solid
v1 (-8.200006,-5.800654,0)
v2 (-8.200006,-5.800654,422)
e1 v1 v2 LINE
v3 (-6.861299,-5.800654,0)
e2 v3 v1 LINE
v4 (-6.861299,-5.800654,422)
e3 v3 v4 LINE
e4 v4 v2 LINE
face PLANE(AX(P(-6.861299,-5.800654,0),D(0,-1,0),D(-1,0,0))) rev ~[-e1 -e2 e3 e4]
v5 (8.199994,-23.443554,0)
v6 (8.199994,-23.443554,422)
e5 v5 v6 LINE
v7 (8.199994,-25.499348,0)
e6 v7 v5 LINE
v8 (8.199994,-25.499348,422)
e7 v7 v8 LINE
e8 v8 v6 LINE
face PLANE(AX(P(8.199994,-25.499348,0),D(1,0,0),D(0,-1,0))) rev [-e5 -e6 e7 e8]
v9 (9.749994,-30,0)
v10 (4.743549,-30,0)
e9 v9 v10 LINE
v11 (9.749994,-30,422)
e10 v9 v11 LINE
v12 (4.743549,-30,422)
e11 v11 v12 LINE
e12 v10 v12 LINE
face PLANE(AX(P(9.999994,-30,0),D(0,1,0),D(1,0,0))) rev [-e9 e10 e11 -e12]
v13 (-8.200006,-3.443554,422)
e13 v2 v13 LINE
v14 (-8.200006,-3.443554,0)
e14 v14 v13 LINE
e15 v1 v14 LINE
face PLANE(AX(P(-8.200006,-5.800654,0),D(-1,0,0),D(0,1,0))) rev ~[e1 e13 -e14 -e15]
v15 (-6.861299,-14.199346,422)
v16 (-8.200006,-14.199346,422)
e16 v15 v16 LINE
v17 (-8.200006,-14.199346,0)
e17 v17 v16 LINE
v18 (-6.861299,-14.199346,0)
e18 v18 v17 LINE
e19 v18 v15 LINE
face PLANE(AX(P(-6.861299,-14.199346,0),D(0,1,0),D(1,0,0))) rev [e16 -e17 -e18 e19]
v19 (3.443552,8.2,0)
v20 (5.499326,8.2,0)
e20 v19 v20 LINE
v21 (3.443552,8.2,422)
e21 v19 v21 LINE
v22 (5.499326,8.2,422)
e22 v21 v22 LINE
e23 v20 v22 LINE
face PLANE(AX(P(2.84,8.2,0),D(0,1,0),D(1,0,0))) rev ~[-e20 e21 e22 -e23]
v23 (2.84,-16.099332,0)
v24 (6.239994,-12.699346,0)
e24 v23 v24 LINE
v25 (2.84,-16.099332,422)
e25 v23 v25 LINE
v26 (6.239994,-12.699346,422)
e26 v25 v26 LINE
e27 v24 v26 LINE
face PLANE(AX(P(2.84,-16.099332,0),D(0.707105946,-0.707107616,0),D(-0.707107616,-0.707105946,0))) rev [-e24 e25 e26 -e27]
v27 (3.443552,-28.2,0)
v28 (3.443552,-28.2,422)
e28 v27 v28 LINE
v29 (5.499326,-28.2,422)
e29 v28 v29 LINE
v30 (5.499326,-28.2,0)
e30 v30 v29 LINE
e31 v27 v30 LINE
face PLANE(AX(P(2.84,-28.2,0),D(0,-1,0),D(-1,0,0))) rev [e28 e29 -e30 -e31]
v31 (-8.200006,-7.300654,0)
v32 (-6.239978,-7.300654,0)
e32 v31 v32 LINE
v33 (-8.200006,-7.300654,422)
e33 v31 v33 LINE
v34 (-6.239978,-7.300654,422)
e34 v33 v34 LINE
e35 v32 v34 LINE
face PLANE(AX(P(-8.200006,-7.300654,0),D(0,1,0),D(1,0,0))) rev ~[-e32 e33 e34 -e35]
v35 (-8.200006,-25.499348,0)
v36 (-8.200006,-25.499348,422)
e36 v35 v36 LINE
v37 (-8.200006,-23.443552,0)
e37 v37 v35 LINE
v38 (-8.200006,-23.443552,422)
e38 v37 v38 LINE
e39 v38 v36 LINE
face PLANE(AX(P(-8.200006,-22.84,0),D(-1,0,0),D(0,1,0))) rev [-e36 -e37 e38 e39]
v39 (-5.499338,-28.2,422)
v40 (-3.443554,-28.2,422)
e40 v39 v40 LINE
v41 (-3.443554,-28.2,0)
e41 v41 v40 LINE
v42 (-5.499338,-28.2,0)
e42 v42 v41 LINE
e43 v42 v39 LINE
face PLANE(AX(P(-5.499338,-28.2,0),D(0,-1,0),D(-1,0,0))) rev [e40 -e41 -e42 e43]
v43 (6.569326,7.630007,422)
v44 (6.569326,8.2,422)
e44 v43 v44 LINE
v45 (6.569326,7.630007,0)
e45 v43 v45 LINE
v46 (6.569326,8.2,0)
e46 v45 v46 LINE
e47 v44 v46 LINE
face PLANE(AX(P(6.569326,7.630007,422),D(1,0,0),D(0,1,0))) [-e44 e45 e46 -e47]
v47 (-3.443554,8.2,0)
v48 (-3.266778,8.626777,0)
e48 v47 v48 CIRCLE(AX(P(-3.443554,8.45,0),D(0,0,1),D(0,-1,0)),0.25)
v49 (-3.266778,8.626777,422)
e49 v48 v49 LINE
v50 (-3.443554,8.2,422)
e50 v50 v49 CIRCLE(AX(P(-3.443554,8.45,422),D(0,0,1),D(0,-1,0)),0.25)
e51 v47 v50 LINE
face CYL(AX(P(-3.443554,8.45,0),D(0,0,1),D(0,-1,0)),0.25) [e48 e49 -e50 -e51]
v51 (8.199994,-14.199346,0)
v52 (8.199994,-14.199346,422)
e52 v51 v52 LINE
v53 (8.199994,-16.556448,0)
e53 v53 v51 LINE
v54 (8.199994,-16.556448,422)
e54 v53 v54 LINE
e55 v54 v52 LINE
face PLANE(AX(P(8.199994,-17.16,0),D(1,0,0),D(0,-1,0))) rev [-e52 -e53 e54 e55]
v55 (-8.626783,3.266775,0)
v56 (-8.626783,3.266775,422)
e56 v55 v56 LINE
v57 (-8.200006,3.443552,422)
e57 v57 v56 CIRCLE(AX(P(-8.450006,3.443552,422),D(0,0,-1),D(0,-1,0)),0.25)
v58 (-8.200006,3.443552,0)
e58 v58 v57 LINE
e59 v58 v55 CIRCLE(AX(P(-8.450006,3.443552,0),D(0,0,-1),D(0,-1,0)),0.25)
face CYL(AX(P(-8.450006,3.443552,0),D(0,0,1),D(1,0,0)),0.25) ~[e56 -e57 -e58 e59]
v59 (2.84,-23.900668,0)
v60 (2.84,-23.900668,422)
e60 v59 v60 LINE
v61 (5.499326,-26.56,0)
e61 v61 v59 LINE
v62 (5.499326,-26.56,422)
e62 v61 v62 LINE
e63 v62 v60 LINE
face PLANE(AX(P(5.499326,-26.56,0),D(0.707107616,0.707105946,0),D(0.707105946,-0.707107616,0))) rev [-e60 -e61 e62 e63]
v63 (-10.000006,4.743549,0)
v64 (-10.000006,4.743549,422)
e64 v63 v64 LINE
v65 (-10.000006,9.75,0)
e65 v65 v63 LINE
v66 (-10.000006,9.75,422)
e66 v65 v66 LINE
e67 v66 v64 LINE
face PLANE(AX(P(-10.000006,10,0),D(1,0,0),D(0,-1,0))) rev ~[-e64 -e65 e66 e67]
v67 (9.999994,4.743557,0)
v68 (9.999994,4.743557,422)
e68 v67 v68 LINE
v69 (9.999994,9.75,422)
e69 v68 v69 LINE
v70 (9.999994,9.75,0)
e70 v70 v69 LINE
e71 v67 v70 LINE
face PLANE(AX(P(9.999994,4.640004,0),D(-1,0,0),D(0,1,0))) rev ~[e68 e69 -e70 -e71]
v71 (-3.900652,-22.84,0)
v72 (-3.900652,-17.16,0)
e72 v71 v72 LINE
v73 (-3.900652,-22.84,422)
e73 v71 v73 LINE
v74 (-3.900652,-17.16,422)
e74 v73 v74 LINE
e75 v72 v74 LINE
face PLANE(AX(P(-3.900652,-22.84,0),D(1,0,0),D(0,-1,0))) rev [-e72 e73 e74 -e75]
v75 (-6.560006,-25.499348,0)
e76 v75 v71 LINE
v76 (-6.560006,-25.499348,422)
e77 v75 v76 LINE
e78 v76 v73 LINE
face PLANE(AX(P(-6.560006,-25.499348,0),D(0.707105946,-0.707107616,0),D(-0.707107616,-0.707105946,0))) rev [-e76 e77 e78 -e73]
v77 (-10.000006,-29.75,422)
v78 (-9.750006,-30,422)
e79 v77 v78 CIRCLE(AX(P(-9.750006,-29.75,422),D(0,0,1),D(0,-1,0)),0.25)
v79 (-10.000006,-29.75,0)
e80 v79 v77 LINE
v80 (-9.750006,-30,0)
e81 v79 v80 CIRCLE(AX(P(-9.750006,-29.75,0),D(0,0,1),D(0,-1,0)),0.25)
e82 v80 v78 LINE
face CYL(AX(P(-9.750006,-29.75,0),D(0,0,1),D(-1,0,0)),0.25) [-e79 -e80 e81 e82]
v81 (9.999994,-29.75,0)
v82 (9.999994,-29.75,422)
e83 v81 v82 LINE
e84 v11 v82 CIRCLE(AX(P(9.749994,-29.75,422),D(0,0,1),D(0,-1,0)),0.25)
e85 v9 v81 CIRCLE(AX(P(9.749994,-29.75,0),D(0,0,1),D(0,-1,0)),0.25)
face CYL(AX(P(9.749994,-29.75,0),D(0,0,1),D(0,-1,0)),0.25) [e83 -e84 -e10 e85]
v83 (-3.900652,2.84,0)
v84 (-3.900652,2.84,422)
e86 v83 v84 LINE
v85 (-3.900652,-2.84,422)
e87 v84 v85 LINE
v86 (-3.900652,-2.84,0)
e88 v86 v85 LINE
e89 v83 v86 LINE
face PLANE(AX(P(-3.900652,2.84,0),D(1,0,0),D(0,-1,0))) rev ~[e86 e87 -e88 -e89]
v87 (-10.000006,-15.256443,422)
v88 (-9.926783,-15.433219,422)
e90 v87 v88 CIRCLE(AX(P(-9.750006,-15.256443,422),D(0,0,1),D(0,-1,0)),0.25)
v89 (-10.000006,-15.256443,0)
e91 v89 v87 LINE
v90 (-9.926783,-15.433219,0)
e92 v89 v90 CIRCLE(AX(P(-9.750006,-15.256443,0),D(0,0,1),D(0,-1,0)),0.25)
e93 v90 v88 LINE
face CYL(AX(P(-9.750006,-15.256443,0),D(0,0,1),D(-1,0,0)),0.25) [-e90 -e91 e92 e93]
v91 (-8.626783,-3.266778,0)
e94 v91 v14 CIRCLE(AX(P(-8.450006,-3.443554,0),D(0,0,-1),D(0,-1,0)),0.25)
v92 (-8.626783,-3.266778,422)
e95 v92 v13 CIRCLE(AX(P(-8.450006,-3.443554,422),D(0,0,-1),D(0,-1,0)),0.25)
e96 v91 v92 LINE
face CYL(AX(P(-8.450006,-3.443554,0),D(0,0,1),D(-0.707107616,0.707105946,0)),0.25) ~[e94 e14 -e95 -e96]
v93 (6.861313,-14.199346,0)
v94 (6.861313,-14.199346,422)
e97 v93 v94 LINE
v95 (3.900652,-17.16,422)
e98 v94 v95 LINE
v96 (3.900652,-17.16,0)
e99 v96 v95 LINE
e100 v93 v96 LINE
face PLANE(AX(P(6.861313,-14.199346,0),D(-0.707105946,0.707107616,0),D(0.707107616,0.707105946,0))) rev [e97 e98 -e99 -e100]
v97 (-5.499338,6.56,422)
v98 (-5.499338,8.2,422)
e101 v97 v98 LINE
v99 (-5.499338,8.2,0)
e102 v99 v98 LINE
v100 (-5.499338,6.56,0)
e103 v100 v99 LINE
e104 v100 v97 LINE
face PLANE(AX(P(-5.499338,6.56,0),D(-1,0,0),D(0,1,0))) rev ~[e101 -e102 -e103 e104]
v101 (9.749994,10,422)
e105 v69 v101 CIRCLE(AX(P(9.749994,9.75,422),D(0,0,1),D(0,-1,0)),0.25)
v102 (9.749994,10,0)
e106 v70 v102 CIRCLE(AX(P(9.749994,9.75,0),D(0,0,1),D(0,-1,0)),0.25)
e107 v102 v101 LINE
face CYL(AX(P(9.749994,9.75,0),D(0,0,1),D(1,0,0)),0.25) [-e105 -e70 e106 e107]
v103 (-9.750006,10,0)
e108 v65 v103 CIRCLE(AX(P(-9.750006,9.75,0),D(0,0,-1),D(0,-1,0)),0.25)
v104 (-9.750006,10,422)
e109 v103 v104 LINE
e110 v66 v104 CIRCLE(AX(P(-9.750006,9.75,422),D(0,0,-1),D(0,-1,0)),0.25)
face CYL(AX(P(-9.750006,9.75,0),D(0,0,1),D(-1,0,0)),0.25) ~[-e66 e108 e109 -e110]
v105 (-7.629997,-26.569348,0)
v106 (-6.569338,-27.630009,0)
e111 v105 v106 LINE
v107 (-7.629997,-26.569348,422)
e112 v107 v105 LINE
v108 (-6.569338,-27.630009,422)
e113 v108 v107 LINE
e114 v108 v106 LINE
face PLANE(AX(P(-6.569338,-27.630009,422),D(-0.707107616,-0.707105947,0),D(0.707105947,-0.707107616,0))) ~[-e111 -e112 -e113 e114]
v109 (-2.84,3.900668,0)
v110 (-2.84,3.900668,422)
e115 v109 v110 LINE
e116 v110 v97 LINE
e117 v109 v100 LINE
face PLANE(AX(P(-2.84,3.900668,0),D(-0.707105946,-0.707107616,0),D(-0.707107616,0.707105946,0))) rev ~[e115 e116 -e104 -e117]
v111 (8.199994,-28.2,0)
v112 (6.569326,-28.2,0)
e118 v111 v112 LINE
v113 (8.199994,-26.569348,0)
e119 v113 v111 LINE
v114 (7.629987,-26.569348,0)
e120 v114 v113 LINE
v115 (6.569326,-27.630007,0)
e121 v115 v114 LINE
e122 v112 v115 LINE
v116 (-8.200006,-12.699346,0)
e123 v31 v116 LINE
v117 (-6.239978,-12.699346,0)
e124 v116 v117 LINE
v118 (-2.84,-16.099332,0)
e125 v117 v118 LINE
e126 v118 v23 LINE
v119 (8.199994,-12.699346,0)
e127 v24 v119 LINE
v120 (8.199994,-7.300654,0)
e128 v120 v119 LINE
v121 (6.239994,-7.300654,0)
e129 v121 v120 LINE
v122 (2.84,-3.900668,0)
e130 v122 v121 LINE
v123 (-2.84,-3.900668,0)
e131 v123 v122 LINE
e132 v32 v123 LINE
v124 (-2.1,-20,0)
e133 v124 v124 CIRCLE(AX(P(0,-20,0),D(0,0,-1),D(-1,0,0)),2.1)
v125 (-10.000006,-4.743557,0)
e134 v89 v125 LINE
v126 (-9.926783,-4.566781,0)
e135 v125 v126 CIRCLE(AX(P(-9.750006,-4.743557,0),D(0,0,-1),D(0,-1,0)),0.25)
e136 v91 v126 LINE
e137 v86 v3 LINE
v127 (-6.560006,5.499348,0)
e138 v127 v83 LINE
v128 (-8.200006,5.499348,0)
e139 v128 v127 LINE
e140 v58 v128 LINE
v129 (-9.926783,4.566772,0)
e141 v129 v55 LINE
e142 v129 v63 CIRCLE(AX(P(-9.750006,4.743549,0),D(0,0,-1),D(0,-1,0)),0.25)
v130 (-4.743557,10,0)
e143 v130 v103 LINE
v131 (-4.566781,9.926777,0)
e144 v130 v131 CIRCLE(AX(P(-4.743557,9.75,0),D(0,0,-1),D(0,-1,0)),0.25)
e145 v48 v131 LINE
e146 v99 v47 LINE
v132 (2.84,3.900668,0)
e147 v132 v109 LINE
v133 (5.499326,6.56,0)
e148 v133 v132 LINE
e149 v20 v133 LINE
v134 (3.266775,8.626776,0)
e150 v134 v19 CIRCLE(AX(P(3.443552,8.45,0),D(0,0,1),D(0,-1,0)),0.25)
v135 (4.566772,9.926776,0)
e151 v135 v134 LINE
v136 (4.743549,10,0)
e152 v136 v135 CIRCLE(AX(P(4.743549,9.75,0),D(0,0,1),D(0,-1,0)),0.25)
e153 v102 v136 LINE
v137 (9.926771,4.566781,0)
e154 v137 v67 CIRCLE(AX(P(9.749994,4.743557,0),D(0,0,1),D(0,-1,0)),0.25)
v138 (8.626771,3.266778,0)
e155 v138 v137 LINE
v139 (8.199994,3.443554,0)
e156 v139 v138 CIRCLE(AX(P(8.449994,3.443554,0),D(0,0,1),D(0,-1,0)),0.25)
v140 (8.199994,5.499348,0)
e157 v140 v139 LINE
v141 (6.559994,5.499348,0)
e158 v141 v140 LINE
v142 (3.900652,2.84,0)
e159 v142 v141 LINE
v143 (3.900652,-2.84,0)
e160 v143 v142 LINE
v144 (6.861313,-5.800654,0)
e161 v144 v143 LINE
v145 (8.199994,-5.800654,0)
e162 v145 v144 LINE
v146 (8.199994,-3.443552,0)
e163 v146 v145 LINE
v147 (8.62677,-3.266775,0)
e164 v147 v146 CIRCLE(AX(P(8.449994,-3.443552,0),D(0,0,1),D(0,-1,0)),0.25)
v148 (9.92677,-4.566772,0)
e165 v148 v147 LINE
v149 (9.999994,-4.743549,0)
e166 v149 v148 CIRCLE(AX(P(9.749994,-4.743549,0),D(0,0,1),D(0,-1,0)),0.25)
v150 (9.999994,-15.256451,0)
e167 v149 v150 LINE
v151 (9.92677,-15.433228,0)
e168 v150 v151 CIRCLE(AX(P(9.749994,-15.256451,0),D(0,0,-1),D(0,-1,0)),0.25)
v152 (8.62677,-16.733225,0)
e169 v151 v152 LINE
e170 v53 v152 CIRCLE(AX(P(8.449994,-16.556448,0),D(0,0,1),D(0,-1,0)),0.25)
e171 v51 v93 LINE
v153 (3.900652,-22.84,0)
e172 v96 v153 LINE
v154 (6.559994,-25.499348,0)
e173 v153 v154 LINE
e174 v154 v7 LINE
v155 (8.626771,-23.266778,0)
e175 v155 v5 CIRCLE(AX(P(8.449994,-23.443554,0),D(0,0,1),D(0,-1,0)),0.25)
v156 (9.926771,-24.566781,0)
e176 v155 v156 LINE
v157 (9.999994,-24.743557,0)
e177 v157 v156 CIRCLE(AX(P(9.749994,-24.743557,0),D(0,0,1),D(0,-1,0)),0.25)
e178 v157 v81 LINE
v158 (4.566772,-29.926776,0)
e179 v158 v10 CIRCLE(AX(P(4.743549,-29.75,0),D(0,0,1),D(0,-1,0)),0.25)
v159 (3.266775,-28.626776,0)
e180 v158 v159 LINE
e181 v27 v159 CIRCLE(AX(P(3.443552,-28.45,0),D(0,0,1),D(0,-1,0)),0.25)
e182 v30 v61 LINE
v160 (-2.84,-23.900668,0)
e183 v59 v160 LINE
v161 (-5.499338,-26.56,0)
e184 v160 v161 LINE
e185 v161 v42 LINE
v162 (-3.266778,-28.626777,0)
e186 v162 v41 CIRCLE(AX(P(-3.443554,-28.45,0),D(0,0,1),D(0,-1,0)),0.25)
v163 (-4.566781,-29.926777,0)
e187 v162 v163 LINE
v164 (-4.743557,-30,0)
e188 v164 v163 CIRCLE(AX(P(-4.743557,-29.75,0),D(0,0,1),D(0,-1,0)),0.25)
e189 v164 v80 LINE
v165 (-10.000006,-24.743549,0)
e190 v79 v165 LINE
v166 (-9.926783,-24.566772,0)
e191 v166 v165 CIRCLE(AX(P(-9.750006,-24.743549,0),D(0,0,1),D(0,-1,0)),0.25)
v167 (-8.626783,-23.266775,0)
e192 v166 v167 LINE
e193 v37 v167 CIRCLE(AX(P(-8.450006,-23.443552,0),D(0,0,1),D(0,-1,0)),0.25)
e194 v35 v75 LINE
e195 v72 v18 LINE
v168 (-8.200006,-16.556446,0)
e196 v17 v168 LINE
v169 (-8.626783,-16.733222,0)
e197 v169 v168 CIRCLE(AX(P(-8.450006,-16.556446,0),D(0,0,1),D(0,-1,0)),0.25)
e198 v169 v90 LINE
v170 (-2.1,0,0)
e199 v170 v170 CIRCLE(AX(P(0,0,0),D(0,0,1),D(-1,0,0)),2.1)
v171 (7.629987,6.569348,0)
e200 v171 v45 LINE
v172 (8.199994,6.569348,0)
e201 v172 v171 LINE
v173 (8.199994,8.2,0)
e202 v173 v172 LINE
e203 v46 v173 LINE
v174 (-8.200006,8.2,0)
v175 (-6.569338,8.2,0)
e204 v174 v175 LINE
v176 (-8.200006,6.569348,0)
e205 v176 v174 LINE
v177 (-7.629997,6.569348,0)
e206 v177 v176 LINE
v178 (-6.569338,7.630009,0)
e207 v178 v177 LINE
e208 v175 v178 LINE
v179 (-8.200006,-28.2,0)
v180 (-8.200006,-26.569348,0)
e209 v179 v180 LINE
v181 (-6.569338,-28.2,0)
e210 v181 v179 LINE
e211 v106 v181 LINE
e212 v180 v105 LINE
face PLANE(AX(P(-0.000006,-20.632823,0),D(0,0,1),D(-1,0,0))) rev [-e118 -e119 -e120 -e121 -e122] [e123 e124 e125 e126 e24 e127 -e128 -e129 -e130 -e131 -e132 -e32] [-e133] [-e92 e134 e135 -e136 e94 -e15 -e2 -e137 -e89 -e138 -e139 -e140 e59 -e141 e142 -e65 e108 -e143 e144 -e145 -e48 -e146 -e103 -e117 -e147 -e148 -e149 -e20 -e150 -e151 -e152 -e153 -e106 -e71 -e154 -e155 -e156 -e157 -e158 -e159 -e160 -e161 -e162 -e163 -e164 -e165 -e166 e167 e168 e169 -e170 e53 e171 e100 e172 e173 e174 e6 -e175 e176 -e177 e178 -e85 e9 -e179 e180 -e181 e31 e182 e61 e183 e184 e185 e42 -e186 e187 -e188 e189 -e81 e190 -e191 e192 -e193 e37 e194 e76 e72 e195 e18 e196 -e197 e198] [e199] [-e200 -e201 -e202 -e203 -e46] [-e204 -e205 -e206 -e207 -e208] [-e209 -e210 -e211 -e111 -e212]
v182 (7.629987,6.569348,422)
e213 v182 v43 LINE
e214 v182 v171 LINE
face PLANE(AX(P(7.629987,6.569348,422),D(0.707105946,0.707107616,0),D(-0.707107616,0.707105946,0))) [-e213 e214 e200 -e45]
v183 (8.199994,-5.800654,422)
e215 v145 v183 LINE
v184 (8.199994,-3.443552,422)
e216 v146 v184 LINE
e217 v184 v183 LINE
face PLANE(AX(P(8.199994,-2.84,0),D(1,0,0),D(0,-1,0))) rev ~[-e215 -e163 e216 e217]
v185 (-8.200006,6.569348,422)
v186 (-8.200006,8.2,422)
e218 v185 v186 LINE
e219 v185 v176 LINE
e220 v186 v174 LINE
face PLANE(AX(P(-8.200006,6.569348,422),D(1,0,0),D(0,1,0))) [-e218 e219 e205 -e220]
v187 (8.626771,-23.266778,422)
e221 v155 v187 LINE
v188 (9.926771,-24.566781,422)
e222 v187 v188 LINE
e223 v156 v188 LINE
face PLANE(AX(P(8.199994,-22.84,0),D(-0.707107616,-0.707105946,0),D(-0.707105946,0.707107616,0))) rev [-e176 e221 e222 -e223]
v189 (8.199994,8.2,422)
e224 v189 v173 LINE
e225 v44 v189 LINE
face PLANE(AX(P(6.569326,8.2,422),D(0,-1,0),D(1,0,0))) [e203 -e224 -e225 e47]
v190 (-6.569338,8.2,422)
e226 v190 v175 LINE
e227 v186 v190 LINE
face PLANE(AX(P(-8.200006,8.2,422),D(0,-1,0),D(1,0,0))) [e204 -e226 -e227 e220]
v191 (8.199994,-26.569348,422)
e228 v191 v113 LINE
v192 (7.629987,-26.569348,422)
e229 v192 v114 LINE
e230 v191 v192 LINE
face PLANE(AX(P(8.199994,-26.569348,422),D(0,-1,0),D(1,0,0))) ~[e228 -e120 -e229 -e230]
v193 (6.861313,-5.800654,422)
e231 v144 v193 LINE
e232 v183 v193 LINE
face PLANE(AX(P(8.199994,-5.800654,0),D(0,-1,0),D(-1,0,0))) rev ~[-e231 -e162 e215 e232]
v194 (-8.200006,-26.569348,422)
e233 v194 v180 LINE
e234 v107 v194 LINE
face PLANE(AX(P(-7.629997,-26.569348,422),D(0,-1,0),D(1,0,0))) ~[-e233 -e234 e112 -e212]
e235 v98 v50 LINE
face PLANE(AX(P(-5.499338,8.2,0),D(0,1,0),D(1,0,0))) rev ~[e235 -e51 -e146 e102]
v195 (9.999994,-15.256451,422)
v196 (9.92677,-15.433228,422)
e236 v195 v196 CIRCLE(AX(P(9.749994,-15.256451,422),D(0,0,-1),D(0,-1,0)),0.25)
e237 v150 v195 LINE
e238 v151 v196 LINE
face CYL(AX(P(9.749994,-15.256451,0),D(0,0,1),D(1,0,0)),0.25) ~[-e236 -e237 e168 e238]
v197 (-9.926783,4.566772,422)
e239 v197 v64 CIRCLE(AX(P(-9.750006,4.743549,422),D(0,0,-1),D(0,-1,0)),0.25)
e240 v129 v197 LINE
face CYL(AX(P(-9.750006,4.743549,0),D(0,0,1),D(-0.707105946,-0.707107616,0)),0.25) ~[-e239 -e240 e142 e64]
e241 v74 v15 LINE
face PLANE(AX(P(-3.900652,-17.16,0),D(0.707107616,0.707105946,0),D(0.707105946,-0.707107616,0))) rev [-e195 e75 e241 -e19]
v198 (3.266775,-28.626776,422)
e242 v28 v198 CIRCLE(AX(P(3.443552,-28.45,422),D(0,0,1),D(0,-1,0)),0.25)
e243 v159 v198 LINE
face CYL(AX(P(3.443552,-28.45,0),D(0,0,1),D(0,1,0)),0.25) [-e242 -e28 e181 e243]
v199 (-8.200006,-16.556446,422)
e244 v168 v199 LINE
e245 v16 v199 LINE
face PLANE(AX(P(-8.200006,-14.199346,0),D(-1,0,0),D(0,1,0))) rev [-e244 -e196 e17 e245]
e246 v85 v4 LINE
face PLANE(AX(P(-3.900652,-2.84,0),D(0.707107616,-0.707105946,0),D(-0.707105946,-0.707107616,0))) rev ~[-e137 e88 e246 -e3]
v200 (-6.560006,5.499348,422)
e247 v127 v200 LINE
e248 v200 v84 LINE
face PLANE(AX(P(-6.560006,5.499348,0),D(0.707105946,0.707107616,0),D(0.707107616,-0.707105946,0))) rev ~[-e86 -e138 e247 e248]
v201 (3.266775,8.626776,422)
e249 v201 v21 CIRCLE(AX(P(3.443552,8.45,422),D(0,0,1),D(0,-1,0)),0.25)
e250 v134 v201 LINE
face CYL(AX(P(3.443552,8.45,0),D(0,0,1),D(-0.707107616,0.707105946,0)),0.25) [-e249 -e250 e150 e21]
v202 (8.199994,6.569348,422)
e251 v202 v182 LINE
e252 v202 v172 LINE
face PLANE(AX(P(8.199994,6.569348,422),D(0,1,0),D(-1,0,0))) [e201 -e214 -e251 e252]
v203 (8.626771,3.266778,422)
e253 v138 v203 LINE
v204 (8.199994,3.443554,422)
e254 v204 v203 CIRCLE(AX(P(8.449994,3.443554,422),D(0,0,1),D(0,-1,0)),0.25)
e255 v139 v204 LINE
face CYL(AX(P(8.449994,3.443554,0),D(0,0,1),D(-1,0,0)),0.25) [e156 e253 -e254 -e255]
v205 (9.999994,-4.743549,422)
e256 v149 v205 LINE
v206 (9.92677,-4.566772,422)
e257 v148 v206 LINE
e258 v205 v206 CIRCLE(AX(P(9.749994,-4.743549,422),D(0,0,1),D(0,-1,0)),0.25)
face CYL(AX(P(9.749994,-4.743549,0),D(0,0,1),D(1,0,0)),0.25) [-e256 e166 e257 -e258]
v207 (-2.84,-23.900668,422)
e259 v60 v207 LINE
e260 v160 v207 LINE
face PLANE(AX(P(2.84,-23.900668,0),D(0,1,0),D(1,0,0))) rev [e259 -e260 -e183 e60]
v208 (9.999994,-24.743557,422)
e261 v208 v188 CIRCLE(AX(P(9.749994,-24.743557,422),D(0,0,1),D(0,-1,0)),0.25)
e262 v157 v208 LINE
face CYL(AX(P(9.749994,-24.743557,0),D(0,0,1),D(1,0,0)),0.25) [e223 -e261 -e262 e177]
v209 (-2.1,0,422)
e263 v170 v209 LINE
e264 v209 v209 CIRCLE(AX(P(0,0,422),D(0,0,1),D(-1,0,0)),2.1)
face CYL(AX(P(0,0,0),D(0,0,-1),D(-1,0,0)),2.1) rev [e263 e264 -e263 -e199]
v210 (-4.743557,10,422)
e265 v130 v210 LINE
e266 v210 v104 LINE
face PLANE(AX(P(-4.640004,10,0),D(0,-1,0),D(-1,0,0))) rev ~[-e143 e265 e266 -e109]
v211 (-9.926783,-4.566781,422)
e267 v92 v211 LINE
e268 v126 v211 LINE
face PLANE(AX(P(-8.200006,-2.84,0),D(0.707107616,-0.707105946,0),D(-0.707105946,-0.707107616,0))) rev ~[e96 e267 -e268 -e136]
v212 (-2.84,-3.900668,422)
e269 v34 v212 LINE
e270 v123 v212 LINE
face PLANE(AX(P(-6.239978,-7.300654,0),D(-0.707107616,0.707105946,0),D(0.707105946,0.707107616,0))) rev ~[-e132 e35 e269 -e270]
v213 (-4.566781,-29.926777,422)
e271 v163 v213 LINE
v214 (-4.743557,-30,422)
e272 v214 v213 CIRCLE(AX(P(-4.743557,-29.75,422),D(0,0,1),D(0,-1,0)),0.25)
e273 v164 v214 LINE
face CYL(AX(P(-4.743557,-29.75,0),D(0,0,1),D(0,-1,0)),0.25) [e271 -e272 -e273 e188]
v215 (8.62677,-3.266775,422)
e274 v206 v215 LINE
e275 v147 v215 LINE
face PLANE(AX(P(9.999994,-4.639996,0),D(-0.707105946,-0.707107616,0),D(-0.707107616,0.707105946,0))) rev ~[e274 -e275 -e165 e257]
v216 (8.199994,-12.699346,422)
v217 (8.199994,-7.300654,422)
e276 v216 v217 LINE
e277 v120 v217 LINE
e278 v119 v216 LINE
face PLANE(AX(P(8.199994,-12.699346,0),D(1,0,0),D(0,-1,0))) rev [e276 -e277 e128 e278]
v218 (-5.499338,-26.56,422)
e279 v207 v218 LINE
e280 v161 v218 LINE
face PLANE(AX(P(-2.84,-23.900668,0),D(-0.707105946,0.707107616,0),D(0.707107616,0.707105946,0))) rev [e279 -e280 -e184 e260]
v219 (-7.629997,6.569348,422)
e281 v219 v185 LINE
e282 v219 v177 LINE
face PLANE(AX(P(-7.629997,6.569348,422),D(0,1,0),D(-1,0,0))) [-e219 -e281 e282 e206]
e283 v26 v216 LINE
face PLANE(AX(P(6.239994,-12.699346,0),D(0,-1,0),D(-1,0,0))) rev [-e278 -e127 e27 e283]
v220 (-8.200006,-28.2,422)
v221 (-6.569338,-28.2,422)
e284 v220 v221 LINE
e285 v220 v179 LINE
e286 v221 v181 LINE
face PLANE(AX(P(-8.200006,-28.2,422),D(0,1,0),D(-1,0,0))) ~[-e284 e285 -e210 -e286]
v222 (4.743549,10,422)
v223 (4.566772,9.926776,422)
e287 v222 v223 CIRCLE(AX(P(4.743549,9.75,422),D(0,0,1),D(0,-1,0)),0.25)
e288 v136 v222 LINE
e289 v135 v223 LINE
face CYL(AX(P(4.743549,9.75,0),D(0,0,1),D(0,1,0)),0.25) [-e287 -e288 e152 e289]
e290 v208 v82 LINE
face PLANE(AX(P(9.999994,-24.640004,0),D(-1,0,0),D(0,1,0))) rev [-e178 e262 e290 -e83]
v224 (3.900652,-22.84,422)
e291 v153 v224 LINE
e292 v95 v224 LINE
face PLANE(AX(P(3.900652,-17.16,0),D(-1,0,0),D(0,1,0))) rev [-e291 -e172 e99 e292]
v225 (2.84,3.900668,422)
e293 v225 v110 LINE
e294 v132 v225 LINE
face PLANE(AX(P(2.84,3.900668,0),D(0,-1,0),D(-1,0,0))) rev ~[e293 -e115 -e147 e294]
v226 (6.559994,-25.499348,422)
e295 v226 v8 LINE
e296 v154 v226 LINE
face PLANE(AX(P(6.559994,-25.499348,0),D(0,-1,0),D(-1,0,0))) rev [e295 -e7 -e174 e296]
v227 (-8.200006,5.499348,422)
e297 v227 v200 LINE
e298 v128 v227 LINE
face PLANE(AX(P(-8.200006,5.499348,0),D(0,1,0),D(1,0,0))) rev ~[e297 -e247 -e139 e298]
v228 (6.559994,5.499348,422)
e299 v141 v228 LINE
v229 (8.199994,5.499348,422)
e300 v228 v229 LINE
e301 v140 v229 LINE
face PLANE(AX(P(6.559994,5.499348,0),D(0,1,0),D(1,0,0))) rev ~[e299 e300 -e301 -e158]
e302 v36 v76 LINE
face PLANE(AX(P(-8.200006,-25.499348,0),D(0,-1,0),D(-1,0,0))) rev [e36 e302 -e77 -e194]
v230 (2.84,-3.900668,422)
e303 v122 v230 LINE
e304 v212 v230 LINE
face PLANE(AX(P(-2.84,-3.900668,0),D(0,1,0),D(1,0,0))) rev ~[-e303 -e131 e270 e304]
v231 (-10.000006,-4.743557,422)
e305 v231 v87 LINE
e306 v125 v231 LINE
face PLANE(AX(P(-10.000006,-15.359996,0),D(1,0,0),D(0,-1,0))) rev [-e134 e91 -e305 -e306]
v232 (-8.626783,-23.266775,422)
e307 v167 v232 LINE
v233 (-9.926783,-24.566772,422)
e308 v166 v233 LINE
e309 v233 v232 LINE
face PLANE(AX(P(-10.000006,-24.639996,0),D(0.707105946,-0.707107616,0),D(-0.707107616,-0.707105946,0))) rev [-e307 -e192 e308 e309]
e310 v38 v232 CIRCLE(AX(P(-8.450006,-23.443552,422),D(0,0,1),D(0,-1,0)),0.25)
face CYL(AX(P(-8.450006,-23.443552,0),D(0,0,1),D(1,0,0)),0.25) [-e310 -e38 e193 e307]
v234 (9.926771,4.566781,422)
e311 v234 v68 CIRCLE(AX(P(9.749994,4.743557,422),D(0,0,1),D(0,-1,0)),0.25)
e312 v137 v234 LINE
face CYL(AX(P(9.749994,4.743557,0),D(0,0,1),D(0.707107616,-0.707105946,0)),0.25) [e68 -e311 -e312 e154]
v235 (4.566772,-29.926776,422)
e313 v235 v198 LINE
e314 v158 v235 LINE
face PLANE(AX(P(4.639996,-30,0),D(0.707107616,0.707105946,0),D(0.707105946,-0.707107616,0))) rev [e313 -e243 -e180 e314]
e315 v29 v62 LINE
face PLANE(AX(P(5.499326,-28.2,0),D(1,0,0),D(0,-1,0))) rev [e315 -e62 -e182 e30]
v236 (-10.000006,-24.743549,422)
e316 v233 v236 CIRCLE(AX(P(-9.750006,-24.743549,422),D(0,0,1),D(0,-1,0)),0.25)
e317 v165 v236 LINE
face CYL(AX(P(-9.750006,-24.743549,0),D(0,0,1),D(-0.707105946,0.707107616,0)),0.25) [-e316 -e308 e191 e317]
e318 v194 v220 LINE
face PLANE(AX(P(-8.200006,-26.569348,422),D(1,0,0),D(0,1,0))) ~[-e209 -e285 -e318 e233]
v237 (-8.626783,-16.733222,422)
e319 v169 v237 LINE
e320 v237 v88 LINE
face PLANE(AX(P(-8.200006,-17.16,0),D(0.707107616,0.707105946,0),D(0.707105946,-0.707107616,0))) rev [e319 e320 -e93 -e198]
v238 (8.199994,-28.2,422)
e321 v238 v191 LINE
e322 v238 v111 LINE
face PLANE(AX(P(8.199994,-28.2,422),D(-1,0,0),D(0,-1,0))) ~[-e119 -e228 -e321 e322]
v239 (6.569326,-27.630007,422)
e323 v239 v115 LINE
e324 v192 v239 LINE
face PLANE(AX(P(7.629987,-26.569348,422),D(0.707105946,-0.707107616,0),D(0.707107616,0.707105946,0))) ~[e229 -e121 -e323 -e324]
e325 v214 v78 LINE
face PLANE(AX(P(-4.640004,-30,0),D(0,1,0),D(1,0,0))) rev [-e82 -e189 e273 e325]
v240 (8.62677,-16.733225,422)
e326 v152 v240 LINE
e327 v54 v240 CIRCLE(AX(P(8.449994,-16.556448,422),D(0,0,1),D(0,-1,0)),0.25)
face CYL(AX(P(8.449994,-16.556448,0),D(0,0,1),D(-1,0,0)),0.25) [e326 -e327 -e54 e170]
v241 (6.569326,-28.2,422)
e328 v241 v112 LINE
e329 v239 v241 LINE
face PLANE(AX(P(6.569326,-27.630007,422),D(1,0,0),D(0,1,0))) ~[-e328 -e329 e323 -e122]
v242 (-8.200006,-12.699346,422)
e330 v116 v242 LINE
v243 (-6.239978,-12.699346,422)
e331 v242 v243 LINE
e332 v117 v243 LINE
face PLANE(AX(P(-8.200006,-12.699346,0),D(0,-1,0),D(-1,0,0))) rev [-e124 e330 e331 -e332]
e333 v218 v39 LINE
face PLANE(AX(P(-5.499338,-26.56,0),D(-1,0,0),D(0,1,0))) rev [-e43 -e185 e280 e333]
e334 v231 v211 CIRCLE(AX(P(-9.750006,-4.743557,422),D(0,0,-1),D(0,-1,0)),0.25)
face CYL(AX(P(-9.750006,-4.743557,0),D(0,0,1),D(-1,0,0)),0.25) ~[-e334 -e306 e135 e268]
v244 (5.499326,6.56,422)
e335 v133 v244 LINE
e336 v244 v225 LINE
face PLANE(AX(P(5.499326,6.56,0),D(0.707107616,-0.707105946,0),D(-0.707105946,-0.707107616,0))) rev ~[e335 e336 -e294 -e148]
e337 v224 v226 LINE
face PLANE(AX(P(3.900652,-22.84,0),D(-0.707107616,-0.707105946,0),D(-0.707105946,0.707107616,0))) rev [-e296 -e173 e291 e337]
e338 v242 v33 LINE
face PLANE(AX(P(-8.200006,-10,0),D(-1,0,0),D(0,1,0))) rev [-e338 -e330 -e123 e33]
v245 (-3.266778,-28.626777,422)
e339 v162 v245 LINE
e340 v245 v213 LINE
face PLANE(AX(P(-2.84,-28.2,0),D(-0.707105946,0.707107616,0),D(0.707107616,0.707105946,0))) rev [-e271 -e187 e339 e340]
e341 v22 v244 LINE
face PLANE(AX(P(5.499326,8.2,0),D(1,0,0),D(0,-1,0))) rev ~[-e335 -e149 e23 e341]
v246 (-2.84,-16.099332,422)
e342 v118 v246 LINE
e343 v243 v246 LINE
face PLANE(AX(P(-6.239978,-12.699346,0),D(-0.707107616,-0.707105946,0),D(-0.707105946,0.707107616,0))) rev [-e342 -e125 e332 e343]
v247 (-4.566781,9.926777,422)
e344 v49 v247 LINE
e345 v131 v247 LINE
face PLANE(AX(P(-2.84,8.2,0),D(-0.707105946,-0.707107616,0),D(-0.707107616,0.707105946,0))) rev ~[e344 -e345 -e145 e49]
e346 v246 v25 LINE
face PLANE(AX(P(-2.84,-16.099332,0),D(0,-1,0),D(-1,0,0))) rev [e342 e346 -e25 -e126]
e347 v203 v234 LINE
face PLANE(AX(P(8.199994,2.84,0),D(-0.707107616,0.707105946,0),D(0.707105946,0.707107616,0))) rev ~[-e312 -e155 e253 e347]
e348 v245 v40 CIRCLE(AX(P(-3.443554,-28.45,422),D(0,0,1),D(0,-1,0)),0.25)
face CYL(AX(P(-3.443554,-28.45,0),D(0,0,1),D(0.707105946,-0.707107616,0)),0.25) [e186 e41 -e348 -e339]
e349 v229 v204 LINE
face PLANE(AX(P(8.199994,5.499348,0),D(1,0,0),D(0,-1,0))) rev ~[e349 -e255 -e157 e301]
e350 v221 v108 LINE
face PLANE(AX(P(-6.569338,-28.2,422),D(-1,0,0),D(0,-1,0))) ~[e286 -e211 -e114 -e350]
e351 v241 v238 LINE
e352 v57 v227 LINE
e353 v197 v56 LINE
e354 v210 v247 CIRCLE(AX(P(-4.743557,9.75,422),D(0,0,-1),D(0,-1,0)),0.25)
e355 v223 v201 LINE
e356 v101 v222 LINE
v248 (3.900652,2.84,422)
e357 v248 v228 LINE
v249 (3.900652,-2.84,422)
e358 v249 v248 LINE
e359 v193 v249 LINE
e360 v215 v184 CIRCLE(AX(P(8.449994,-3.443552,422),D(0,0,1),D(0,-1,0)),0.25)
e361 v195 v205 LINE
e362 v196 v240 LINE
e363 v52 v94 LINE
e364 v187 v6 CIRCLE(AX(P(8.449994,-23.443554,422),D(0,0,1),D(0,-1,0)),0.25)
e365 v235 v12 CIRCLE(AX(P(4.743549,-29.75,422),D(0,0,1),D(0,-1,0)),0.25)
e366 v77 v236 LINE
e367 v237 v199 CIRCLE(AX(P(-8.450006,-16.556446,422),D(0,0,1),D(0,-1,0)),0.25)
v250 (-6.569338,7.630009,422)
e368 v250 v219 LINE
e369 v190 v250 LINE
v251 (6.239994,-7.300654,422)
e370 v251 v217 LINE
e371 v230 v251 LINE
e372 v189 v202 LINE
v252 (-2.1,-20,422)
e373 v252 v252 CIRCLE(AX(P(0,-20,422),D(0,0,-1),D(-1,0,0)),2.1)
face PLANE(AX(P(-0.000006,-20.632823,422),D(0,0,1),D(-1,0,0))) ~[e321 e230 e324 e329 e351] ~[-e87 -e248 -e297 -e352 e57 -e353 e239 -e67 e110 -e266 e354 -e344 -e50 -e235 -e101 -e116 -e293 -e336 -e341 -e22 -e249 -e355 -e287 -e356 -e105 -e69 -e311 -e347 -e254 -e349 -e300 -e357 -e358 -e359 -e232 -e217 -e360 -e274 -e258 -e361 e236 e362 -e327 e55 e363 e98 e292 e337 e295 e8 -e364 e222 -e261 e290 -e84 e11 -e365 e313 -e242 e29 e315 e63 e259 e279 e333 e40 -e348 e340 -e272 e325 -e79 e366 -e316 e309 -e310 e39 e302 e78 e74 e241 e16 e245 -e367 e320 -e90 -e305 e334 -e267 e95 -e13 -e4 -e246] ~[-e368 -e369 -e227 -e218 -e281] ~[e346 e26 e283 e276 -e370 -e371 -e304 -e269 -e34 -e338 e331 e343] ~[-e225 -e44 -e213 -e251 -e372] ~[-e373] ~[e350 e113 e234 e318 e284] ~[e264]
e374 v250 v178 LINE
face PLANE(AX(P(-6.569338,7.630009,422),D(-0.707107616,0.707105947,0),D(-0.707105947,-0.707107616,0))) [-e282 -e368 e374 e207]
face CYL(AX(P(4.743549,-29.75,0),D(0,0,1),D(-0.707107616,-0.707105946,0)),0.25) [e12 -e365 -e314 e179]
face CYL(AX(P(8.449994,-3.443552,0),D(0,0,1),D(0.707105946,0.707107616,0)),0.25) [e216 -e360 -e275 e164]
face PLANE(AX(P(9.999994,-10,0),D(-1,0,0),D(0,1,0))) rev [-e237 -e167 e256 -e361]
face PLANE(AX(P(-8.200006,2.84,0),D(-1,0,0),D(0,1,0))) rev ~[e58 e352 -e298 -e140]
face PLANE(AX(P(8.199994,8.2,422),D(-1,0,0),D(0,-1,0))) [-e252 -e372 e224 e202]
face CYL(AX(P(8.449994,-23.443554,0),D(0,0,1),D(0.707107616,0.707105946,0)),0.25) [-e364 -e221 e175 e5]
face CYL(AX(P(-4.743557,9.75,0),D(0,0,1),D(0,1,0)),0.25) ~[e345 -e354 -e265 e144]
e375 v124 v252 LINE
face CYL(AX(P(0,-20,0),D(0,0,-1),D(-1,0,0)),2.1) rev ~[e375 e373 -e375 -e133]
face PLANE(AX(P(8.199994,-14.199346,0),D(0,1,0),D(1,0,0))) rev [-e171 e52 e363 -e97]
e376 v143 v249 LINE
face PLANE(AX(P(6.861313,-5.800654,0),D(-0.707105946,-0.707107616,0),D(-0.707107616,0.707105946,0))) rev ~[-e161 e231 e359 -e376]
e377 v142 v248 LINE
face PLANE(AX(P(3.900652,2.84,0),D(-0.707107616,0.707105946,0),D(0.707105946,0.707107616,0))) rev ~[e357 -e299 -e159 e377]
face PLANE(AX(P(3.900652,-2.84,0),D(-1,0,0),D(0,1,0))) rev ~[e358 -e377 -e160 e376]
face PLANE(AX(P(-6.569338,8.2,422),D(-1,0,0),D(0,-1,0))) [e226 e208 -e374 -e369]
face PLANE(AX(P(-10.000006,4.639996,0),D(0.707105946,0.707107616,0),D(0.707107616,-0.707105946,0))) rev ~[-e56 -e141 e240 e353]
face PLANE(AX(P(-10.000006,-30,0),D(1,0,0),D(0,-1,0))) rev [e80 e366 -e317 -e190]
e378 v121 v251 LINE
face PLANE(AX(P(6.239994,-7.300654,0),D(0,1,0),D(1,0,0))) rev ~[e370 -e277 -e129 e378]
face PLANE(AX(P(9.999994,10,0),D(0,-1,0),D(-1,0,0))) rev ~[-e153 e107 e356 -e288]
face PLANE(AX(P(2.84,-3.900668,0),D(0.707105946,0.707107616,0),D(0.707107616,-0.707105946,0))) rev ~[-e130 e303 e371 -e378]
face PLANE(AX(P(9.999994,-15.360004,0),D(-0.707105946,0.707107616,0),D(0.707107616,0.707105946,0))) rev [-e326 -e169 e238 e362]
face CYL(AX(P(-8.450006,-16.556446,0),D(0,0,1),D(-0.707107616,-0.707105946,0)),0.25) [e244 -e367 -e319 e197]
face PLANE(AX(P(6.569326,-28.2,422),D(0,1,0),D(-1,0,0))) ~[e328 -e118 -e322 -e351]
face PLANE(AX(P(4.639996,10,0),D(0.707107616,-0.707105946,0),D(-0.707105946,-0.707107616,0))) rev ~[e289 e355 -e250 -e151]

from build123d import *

# Parameters (mm, degrees)
SKETCH1_R            = 2.1
BOSS_EXTRUDE2_DEPTH  = 422
CUT_EXTRUDE1_DEPTH   = 423.236900478
FILLET1_R            = 0.25
FILLET1_OF_MIRROR1_R = 0.25


with BuildPart() as part:
    # Sketch1 → Boss-Extrude2 (new body)
    with BuildSketch(Plane.XY):
        Polygon((8.199993721, -10), (9.999993721, -10), (9.999993721, -4.63999575), (8.199993721, -2.84), (8.199993721, -5.800653822), (6.861313026, -5.800653822), (3.900652213, -2.84), (3.900652213, 2.84), (6.559993721, 5.499347787), (8.199993721, 5.499347787), (8.199993721, 2.84), (9.999993721, 4.64000425), (9.999993721, 10), (4.63999575, 10), (2.84, 8.2), (5.499325592, 8.2), (5.499325592, 6.56), (2.84, 3.900668129), (-2.84, 3.900668129), (-5.49933815, 6.56), (-5.49933815, 8.2), (-2.84, 8.2), (-4.64000425, 10), (-10.000006279, 10), (-10.000006279, 4.63999575), (-8.200006279, 2.84), (-8.200006279, 5.499347787), (-6.560006279, 5.499347787), (-3.900652213, 2.84), (-3.900652213, -2.84), (-6.861299044, -5.800653822), (-8.200006279, -5.800653822), (-8.200006279, -2.84), (-10.000006279, -4.64000425), (-10.000006279, -10), (-8.200006279, -10), (-8.200006279, -7.300653822), (-6.239977665, -7.300653822), (-2.84, -3.900668129), (2.84, -3.900668129), (6.239993721, -7.300653822), (8.199993721, -7.300653822), align=None)
        with Locations(Location((0, 0, 0), (0, 0, 180))):
            Circle(SKETCH1_R, mode=Mode.SUBTRACT)
    boss_extrude2 = extrude(amount=BOSS_EXTRUDE2_DEPTH)

    # Sketch2 → Cut-Extrude1 (cut, through all)
    with BuildSketch(Plane.XY.offset(422)):
        Polygon((-8.200006279, 6.569347787), (-8.200006279, 8.2), (-6.56933815, 8.2), (-6.56933815, 7.630009211), (-7.62999707, 6.569347787), align=None)
        Polygon((8.199993721, 8.2), (8.199993721, 6.569347787), (7.629987016, 6.569347787), (6.569325592, 7.630006706), (6.569325592, 8.2), align=None)
    cut_extrude1 = extrude(amount=-CUT_EXTRUDE1_DEPTH, mode=Mode.SUBTRACT)

    # Fillet1
    fillet1_edges = [part.edges().sort_by_distance(p)[0] for p in [
        (9.999993721, -4.63999575, 211),
        (-10.000006279, -4.64000425, 211),
        (-8.200006279, -2.84, 211),
        (-8.200006279, 2.84, 211),
        (-10.000006279, 4.63999575, 211),
        (-10.000006279, 10, 211),
        (-4.64000425, 10, 211),
        (-2.84, 8.2, 211),
        (2.84, 8.2, 211),
        (4.63999575, 10, 211),
        (9.999993721, 10, 211),
        (9.999993721, 4.64000425, 211),
        (8.199993721, 2.84, 211),
        (8.199993721, -2.84, 211),
    ]]
    fillet(fillet1_edges, radius=FILLET1_R)

    # Mirror1: Boss-Extrude2 across plane
    add(boss_extrude2.mirror(Plane(origin=(0, -10, 0), x_dir=(0, 0, 1), z_dir=(0, -1, 0))))

    # Fillet1 of Mirror1
    fillet1_of_mirror1_edges = [part.edges().sort_by_distance(p)[0] for p in [
        (9.999993721, -15.36000425, 211),
        (-10.000006279, -15.35999575, 211),
        (-8.200006279, -17.16, 211),
        (-8.200006279, -22.84, 211),
        (-10.000006279, -24.63999575, 211),
        (-10.000006279, -30, 211),
        (-4.64000425, -30, 211),
        (-2.84, -28.2, 211),
        (2.84, -28.2, 211),
        (4.63999575, -30, 211),
        (9.999993721, -30, 211),
        (9.999993721, -24.64000425, 211),
        (8.199993721, -22.84, 211),
        (8.199993721, -17.16, 211),
    ]]
    fillet(fillet1_of_mirror1_edges, radius=FILLET1_OF_MIRROR1_R)

    # Mirror2: Cut-Extrude1 across plane
    add(cut_extrude1.mirror(Plane(origin=(0, -10, 0), x_dir=(0, 0, 1), z_dir=(0, -1, 0))), mode=Mode.SUBTRACT)


solid = part.part
